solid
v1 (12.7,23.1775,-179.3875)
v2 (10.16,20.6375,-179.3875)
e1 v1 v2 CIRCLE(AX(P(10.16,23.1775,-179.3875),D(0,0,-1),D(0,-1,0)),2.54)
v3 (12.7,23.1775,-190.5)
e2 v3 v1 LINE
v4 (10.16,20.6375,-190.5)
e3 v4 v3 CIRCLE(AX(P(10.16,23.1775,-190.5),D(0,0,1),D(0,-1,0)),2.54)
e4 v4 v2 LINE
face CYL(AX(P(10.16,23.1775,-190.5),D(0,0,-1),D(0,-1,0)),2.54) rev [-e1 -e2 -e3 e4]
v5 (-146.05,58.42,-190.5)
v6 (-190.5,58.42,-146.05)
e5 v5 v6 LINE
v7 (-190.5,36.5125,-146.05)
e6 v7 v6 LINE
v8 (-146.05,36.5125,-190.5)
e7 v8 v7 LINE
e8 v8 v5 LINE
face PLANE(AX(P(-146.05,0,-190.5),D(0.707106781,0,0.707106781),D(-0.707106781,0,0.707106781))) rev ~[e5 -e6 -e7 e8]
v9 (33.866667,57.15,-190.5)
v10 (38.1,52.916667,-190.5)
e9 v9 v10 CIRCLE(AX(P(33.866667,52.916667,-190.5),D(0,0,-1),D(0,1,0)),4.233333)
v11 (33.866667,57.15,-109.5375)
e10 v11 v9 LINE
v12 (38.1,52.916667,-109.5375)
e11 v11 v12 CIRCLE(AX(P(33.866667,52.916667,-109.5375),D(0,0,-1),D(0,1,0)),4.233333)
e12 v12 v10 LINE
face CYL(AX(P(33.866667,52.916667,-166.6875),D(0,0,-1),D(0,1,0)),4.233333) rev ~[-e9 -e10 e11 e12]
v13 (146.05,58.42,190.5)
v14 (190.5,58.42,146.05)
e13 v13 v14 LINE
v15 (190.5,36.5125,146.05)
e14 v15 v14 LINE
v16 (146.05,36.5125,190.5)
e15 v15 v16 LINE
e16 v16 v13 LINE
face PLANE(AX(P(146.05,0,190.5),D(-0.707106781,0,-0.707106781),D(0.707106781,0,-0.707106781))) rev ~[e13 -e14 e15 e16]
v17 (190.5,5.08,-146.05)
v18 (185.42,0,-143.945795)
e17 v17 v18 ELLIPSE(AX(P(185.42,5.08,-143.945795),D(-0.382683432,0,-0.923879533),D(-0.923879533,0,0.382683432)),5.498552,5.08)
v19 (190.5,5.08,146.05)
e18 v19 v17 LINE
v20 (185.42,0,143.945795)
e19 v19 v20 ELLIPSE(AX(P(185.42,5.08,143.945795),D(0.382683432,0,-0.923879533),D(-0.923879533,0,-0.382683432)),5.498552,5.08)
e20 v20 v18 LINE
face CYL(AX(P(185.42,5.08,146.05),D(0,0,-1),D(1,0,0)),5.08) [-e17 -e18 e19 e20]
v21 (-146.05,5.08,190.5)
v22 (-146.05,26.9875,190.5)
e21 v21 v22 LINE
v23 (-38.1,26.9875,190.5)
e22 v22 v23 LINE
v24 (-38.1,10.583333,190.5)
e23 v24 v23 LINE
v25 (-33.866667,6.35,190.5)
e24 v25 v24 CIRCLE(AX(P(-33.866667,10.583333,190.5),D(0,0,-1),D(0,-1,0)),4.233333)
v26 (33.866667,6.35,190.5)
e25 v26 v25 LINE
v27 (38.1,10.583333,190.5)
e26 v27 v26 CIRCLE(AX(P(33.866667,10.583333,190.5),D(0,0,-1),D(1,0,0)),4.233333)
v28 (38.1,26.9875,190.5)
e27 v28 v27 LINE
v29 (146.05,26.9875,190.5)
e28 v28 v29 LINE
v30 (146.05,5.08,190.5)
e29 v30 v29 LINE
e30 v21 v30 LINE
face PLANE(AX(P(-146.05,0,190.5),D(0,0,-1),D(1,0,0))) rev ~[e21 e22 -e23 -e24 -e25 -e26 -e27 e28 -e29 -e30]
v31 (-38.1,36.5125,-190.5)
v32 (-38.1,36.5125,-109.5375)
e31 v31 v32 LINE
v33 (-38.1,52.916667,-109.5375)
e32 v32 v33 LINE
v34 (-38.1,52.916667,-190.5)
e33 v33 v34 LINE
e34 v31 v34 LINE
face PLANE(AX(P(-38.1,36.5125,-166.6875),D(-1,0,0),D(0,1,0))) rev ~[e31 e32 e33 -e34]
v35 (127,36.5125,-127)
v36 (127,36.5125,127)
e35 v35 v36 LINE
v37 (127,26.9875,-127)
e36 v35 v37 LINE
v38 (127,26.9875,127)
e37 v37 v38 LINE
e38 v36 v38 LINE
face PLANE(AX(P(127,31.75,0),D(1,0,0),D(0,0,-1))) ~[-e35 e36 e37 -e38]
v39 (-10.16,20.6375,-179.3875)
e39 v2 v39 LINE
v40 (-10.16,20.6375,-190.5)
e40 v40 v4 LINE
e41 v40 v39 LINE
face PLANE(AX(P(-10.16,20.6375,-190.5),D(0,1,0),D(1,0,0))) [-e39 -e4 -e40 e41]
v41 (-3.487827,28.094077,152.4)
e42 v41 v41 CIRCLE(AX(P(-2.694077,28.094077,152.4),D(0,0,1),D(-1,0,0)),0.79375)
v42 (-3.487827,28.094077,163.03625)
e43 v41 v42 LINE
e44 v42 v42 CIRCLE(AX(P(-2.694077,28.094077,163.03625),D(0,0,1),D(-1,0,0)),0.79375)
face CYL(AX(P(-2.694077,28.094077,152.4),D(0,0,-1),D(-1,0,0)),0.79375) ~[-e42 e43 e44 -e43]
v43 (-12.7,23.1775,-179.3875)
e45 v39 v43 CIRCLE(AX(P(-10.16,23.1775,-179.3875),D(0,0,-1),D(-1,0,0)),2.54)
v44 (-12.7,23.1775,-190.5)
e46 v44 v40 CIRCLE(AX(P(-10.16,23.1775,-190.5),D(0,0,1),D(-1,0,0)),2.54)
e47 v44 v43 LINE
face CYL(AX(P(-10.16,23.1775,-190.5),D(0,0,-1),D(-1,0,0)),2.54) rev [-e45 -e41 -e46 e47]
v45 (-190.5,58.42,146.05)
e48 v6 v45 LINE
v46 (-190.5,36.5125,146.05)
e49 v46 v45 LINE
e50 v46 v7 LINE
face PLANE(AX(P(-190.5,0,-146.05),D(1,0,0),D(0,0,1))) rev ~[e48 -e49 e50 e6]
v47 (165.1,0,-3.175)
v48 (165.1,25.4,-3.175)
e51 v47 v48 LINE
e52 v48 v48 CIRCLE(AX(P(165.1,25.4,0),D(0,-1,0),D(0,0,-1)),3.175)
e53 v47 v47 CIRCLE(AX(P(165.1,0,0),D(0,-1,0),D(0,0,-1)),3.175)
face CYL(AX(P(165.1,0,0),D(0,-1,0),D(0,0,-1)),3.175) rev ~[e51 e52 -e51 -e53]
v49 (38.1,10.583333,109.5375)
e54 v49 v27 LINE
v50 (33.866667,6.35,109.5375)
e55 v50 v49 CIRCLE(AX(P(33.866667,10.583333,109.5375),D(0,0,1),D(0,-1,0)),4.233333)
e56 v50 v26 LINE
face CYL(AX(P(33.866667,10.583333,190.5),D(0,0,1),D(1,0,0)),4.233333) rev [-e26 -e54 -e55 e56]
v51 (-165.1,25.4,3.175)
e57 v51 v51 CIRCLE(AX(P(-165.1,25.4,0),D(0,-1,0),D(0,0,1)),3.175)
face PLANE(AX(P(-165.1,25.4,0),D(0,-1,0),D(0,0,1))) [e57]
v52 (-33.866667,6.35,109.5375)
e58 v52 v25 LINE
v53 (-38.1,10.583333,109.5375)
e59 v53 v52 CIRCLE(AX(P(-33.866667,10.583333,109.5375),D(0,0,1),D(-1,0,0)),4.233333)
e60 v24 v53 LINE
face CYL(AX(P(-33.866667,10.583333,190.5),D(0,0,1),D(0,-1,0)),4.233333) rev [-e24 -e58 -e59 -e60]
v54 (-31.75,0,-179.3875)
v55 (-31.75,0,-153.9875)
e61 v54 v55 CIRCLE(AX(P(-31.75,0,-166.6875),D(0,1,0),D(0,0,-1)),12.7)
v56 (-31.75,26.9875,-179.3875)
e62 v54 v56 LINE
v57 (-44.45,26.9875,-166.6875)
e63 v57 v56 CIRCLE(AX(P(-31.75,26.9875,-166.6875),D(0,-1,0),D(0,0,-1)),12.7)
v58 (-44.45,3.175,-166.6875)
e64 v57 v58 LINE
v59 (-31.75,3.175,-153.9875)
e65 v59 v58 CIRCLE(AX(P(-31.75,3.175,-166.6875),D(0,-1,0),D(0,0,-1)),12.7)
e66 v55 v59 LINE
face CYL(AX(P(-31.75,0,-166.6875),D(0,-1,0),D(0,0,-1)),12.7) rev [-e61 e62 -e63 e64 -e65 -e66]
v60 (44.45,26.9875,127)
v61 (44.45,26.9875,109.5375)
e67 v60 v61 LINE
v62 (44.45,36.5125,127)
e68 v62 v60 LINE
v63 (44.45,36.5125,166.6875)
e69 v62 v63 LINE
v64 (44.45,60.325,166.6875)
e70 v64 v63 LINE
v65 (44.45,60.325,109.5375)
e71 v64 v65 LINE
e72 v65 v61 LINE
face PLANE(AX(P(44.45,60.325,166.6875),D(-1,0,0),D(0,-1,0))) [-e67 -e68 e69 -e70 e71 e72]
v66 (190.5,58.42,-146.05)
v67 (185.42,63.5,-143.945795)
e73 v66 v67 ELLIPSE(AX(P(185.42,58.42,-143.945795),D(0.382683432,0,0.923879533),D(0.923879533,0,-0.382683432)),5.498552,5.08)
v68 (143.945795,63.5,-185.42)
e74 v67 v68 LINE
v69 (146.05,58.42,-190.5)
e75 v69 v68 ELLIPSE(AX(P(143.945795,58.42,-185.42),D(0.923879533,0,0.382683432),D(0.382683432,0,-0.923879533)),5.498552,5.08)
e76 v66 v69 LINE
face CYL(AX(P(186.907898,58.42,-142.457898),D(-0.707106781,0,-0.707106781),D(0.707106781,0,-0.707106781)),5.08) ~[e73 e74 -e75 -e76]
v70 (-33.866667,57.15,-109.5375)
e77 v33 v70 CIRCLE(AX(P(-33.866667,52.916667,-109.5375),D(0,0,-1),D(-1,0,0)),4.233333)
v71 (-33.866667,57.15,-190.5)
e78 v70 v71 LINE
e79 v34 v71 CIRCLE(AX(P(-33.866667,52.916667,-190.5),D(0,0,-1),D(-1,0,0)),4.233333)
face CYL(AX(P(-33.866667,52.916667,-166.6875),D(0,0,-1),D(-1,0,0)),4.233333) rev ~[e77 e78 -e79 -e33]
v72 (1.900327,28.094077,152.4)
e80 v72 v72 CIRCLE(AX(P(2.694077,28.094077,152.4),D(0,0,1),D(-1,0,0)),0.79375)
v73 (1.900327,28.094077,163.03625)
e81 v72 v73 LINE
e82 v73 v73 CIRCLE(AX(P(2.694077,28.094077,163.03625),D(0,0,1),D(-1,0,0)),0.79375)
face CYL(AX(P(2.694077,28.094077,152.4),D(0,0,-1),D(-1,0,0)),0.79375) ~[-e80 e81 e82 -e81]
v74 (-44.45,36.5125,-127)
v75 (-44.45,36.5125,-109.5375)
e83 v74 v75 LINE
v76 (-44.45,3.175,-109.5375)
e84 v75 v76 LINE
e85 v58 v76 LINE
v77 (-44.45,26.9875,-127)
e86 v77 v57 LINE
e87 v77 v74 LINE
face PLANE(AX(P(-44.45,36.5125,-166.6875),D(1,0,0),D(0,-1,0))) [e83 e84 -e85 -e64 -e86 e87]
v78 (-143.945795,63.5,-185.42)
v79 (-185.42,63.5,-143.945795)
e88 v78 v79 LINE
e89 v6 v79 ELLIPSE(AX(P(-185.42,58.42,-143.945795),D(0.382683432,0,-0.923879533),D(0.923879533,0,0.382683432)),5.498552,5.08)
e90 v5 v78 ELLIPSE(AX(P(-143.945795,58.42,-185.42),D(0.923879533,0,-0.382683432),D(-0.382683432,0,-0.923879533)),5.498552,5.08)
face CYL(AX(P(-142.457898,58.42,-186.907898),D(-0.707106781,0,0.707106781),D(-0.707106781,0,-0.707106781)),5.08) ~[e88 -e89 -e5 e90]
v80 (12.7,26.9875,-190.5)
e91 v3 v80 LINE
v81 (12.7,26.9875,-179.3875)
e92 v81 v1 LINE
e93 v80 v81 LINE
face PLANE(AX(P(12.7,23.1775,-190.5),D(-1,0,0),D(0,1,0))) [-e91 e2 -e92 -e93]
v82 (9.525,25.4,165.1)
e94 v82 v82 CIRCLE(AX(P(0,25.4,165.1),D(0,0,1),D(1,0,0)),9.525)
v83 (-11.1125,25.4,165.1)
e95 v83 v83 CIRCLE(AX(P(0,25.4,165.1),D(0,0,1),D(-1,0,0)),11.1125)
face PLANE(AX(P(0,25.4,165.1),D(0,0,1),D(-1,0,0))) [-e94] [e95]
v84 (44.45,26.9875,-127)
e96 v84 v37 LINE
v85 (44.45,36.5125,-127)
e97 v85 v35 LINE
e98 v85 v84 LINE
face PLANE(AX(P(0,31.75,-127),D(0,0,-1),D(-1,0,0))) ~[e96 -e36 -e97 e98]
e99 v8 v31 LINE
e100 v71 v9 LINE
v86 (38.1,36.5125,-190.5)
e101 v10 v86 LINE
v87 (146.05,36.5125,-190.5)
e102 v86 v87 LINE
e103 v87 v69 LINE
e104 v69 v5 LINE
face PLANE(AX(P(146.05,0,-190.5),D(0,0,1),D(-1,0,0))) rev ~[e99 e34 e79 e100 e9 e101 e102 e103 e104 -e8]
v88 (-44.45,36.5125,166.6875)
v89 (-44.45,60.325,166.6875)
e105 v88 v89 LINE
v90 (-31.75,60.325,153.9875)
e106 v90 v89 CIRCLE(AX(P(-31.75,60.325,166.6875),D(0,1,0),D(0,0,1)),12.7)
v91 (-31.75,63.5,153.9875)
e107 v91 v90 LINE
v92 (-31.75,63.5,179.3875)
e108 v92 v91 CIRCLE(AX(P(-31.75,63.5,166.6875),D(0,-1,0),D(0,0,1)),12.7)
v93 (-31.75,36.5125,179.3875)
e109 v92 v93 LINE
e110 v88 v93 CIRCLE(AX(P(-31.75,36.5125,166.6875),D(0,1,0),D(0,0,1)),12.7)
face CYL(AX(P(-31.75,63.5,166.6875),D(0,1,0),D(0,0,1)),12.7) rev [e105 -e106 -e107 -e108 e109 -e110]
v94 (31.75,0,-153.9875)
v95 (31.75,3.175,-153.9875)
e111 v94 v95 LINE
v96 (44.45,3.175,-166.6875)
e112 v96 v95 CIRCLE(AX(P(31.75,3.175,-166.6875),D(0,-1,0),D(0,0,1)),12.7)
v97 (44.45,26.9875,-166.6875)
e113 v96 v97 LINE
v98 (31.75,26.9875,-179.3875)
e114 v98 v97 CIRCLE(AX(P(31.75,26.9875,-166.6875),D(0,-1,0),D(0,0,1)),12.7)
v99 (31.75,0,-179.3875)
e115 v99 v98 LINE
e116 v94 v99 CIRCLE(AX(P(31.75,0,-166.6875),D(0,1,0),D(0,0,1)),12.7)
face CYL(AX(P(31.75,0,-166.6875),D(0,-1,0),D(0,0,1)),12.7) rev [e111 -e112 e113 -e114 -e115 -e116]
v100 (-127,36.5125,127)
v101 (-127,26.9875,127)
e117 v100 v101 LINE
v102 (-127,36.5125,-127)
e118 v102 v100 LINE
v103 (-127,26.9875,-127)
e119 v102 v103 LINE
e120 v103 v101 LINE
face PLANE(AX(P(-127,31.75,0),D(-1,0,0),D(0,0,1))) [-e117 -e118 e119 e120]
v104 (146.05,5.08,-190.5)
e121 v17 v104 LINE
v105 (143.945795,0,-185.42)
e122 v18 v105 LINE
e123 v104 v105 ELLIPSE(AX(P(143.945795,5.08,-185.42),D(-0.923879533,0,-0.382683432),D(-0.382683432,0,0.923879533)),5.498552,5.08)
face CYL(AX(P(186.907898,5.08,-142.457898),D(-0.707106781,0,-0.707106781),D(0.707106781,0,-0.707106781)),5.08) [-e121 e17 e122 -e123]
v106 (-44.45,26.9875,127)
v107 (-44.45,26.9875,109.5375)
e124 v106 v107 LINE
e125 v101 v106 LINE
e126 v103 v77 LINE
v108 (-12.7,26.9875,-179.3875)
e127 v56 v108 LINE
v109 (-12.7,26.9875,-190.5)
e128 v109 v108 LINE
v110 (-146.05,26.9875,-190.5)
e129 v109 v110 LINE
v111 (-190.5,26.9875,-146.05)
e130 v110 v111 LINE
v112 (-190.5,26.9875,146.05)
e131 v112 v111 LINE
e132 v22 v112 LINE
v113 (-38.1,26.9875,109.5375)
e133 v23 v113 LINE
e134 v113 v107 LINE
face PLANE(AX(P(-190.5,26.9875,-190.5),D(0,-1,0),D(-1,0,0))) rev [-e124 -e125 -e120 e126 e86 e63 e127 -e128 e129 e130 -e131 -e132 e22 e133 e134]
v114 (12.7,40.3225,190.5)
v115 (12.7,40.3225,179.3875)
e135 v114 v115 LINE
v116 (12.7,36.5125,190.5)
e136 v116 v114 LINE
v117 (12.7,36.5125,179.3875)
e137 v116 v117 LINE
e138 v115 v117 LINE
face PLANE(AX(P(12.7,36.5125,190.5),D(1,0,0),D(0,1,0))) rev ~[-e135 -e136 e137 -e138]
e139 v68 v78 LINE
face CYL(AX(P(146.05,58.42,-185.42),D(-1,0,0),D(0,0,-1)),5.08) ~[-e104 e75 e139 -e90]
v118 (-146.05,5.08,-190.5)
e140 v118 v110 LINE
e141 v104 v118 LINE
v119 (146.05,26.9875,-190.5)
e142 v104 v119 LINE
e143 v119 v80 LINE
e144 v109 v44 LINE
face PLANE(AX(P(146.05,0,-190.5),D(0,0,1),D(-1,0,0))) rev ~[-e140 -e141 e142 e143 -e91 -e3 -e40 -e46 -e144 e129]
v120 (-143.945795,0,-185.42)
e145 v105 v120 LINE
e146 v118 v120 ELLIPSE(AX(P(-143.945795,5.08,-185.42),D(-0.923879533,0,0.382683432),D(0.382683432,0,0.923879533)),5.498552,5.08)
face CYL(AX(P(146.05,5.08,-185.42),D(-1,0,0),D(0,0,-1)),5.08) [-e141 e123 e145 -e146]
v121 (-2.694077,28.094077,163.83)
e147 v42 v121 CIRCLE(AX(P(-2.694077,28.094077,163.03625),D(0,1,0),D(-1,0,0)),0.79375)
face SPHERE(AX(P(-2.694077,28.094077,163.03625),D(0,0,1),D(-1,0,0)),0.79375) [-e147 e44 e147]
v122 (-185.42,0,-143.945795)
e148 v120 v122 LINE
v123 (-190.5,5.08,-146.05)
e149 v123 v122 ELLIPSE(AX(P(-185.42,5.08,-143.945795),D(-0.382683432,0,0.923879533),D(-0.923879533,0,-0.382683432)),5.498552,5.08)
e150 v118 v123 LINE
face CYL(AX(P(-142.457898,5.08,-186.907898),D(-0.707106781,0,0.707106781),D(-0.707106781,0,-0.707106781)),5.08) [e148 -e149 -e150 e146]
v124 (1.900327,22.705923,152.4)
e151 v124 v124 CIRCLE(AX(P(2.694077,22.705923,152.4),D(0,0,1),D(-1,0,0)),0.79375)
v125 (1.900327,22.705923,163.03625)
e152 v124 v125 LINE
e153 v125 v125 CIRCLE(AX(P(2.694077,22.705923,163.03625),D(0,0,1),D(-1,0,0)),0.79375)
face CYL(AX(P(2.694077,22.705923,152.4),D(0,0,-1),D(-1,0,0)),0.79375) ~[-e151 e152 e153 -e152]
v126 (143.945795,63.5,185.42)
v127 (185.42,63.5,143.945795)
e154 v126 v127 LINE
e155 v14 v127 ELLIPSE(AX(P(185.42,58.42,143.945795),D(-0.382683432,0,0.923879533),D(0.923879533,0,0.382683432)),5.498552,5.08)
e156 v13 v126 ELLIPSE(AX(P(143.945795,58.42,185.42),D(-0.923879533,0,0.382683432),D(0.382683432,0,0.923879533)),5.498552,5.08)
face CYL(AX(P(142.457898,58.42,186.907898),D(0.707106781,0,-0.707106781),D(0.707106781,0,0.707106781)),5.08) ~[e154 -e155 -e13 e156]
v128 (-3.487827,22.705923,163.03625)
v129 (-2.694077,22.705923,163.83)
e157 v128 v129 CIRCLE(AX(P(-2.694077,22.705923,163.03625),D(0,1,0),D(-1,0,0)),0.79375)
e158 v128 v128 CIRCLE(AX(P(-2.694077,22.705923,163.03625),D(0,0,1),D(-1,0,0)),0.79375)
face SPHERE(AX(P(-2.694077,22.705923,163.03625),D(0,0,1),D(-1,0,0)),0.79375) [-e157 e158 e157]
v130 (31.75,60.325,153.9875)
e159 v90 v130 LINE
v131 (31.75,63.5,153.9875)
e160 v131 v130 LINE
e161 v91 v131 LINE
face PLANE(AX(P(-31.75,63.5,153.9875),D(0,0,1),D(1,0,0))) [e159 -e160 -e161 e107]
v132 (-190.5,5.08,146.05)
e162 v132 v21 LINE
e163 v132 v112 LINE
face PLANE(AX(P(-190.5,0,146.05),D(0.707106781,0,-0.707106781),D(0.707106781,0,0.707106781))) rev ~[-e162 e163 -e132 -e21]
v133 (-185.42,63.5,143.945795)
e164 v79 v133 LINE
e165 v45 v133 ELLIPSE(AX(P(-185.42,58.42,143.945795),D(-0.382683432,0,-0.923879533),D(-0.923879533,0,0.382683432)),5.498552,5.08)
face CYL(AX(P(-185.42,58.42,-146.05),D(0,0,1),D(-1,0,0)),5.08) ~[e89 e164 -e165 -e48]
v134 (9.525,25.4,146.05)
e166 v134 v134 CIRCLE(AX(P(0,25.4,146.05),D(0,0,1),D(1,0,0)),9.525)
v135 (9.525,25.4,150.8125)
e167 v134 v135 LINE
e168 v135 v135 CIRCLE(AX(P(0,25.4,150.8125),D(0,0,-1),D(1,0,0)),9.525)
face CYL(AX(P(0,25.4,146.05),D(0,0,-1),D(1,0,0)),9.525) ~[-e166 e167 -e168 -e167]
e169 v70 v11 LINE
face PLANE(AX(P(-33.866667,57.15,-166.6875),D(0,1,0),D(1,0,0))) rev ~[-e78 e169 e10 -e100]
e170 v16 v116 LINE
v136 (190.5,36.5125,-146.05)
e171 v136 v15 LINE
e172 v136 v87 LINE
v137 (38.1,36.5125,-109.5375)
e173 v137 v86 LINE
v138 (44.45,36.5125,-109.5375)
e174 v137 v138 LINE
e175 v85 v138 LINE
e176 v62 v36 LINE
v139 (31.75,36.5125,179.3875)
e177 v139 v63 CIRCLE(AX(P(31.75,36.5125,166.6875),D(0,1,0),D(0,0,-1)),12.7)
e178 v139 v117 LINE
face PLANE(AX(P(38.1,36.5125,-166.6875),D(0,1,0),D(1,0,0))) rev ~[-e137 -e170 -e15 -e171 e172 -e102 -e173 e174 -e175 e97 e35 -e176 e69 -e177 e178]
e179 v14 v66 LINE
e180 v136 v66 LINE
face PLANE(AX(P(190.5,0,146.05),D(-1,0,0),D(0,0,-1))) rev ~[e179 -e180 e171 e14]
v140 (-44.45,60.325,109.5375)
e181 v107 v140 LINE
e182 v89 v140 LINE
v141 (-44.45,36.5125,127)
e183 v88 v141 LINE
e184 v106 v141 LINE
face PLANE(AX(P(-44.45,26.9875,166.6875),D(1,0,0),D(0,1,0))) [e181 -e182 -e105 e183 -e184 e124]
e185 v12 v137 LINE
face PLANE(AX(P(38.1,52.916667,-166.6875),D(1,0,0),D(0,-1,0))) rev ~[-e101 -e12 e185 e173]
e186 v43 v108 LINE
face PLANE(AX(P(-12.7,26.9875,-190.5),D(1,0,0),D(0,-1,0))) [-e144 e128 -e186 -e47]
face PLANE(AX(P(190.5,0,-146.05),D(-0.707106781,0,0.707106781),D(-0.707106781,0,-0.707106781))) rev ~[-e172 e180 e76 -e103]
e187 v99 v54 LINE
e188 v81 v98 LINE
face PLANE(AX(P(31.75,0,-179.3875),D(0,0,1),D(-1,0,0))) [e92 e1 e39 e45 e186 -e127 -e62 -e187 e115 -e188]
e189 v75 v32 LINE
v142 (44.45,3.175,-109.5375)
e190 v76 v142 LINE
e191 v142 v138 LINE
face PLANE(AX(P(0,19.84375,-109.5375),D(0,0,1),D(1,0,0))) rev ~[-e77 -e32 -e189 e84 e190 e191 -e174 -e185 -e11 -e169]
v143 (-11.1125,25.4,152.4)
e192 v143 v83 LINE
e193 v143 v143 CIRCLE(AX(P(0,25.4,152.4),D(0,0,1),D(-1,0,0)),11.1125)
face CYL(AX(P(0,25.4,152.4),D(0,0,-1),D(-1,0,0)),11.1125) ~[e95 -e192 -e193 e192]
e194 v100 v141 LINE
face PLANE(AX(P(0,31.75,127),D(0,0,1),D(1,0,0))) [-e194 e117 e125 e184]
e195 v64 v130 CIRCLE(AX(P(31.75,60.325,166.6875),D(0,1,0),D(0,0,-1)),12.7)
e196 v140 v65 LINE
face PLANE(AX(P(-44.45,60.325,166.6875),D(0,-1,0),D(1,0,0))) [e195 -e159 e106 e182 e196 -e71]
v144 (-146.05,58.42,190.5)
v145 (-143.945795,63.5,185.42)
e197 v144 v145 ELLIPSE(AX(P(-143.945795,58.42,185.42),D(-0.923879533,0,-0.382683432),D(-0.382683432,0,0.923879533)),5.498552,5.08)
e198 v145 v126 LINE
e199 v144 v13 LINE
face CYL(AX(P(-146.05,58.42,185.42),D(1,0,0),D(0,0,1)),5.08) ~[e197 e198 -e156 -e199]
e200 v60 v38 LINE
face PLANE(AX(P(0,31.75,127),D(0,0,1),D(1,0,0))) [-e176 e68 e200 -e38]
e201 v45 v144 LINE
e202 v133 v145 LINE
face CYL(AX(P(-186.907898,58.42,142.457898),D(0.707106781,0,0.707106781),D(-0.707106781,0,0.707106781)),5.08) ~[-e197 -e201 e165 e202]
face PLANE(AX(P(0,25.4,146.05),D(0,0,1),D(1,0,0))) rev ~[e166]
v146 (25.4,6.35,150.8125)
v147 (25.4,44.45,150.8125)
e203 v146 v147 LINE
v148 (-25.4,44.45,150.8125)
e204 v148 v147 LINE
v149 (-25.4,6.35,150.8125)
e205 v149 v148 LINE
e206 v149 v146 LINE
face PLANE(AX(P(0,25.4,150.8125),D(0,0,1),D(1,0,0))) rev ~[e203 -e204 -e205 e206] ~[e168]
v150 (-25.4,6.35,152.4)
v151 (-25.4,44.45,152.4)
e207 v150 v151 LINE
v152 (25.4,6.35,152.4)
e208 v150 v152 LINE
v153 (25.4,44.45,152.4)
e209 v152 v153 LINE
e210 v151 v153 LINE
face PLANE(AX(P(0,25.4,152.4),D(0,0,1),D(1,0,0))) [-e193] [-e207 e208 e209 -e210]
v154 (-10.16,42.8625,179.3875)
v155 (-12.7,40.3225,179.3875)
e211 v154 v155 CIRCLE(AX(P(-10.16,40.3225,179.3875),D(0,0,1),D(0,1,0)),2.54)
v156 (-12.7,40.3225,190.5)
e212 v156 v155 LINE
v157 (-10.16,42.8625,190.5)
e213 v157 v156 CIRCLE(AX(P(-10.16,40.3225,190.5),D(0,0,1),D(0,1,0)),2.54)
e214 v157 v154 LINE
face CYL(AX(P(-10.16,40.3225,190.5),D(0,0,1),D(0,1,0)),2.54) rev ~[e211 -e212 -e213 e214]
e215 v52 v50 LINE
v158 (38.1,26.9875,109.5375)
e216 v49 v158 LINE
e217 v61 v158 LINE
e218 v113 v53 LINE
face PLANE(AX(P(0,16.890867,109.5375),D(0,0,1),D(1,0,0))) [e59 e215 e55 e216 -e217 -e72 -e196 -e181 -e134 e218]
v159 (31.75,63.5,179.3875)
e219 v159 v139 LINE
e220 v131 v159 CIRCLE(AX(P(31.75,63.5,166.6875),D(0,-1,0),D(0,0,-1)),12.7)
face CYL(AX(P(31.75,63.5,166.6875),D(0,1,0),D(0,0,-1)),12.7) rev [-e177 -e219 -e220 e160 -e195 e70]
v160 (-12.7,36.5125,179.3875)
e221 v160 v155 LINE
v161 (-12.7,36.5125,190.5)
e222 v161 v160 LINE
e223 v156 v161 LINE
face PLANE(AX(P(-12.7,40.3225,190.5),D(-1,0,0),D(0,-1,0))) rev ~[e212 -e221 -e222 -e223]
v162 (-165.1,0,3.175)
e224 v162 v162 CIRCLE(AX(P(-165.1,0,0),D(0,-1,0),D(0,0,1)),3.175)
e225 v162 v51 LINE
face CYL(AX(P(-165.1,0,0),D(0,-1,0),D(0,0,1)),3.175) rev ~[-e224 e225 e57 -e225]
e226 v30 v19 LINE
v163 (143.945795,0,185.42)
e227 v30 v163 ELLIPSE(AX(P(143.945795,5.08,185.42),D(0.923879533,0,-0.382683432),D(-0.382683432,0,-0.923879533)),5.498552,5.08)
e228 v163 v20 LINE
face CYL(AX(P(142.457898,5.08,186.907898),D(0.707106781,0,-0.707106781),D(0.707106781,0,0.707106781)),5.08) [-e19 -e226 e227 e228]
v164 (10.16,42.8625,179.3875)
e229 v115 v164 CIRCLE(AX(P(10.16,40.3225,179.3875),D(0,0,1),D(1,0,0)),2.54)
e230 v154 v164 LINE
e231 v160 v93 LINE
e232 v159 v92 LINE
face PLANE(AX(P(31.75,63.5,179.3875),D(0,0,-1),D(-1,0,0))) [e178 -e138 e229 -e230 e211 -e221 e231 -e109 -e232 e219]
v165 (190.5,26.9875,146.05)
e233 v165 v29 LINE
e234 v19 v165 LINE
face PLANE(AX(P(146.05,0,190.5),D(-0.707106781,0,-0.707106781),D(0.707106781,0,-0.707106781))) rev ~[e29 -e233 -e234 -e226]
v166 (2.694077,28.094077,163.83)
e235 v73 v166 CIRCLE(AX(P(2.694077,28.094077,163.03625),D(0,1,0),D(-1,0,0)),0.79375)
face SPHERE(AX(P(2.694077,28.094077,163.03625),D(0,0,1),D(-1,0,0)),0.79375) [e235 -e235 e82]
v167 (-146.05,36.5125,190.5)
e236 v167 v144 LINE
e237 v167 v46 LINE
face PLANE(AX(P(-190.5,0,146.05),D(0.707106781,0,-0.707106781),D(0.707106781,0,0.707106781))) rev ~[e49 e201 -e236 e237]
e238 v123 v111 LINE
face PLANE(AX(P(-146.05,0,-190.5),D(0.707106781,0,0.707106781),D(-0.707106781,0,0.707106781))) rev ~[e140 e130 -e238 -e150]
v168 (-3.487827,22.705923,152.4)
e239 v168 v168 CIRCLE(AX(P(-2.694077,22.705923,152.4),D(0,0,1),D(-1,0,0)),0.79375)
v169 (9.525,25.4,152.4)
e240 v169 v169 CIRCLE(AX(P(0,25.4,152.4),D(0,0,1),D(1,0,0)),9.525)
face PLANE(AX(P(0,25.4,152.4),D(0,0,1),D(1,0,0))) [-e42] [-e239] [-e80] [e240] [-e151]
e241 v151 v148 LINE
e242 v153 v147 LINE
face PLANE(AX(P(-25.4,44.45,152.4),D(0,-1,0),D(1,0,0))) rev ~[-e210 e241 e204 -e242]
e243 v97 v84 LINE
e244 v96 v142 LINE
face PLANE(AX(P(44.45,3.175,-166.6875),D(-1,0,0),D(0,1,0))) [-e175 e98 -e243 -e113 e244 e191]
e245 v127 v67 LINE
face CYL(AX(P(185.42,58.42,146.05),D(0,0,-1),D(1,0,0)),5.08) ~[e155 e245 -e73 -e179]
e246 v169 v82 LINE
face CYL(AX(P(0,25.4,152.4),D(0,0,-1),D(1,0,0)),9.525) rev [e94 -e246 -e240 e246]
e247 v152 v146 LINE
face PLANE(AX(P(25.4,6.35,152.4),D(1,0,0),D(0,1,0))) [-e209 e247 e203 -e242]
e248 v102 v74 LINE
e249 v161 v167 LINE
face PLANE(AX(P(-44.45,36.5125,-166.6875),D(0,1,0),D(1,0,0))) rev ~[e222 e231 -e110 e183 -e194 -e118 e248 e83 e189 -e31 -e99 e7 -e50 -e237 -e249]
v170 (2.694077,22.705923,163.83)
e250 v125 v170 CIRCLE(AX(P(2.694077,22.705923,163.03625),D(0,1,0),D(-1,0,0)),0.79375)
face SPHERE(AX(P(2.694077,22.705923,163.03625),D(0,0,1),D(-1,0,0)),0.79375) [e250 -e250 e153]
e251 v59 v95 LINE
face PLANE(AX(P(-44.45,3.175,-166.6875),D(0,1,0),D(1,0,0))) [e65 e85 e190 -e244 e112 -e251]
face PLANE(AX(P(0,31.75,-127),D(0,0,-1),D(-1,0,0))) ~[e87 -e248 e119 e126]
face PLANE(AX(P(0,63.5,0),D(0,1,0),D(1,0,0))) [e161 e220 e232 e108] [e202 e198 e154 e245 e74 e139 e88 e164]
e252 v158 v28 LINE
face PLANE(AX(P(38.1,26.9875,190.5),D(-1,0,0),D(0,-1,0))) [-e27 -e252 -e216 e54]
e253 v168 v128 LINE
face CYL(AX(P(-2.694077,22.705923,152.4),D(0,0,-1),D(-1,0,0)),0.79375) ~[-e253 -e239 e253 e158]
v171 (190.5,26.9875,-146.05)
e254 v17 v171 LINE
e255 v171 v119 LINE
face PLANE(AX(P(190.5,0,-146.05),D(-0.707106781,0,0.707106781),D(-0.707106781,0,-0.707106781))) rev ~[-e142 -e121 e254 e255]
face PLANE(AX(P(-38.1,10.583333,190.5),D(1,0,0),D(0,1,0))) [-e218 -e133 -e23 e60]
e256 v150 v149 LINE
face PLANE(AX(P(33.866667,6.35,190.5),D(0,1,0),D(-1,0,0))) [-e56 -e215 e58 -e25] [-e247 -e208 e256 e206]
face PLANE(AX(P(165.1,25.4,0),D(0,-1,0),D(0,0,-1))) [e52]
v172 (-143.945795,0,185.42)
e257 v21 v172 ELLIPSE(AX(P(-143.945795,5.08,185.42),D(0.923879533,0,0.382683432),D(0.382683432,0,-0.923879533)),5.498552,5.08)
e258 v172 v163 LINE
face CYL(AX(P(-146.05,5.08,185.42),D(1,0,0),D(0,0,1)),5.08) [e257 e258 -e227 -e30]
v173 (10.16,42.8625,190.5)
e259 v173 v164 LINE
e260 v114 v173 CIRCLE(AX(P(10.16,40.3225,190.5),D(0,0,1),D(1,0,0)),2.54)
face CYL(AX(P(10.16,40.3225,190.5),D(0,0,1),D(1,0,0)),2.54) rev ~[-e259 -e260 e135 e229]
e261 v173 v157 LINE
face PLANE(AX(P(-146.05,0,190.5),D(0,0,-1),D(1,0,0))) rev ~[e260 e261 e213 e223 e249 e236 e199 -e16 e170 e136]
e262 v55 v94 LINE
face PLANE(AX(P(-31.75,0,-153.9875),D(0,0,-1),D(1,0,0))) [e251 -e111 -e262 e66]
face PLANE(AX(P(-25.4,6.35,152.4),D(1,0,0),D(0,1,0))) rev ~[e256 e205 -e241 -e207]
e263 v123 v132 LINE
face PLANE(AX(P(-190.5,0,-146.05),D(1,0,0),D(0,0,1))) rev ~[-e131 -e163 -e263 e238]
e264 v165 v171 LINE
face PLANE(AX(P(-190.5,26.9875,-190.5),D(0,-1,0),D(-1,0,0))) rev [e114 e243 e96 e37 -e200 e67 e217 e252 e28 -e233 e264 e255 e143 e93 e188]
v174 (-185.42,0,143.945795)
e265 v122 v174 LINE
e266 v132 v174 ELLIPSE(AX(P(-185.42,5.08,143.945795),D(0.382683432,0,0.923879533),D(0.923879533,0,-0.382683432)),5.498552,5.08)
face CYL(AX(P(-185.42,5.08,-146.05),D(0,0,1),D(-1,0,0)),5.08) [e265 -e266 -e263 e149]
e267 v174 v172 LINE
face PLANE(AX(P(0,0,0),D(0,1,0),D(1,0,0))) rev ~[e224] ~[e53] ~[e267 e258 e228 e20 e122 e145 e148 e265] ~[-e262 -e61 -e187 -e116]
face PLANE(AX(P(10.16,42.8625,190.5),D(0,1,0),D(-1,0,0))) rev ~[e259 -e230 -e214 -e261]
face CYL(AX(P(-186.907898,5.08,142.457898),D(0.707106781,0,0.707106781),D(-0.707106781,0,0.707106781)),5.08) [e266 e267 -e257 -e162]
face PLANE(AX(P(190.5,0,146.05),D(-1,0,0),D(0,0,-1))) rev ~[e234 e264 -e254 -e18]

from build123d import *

# Parameters (mm, degrees)
BOSS_EXTRUDE1_DEPTH = 63.5
SKETCH3_W           = 381
SKETCH3_H           = 9.525
CUT_EXTRUDE1_DEPTH  = 63.5
SKETCH4_W           = 381
SKETCH4_H           = 9.525
CUT_EXTRUDE2_DEPTH  = 63.5
CUT_EXTRUDE3_DEPTH  = 31.75
CUT_EXTRUDE4_DEPTH  = 76.2
CUT_EXTRUDE5_DEPTH  = 57.15
CUT_EXTRUDE6_DEPTH  = 31.75
CUT_EXTRUDE7_DEPTH  = 76.2
CUT_EXTRUDE8_DEPTH  = 57.15
FILLET1_R           = 5.08
SKETCH12_W          = 50.8
SKETCH12_H          = 38.1
BOSS_EXTRUDE2_DEPTH = 1.5875
SKETCH13_R          = 11.1125
SKETCH13_R_2        = 9.525
BOSS_EXTRUDE3_DEPTH = 12.7
BOSS_EXTRUDE4_START = -6.35
SKETCH15_R          = 9.525
BOSS_EXTRUDE4_DEPTH = 6.35
SKETCH16_R          = 0.79375
BOSS_EXTRUDE5_DEPTH = 11.43
FILLET2_R           = 0.79375
SKETCH17_R          = 3.175
CUT_EXTRUDE9_DEPTH  = 25.4


with BuildPart() as part:
    # Sketch1 → Boss-Extrude1 (new body)
    with BuildSketch(Plane(origin=(0, 0, 0), x_dir=(1, 0, 0), z_dir=(0, 1, 0))):
        Polygon((-146.05, 190.5), (-190.5, 146.05), (-190.5, -146.05), (-146.05, -190.5), (146.05, -190.5), (190.5, -146.05), (190.5, 146.05), (146.05, 190.5), align=None)
    extrude(amount=BOSS_EXTRUDE1_DEPTH)

    # Sketch3 → Cut-Extrude1 (cut)
    with BuildSketch(Plane.XY.offset(190.5)):
        with Locations((0, 31.75)):
            Rectangle(SKETCH3_W, SKETCH3_H)
    cut_extrude1 = extrude(amount=-CUT_EXTRUDE1_DEPTH, mode=Mode.SUBTRACT)

    # Mirror1: Cut-Extrude1 across plane
    add(cut_extrude1.mirror(Plane.XY), mode=Mode.SUBTRACT)

    # Sketch4 → Cut-Extrude2 (cut)
    with BuildSketch(Plane.ZY.offset(190.5)):
        with Locations((0, 31.75)):
            Rectangle(SKETCH4_W, SKETCH4_H)
    cut_extrude2 = extrude(amount=-CUT_EXTRUDE2_DEPTH, mode=Mode.SUBTRACT)

    # Mirror2: Cut-Extrude2 across plane
    add(cut_extrude2.mirror(Plane(origin=(0, 0, 0), x_dir=(0, 0, 1), z_dir=(1, 0, 0))), mode=Mode.SUBTRACT)

    # Sketch5 → Cut-Extrude3 (cut)
    with BuildSketch(Plane(origin=(0, 63.5, 0), x_dir=(1, 0, 0), z_dir=(0, 1, 0))):
        with BuildLine():
            Line((31.75, -179.3875), (-31.75, -179.3875))
            ThreePointArc((-31.75, -179.3875), (-44.45, -166.6875), (-31.75, -153.9875))
            Line((-31.75, -153.9875), (31.75, -153.9875))
            ThreePointArc((31.75, -153.9875), (44.45, -166.6875), (31.75, -179.3875))
        make_face()
    extrude(amount=-CUT_EXTRUDE3_DEPTH, mode=Mode.SUBTRACT)

    # Sketch6 → Cut-Extrude4 (cut)
    with BuildSketch(Plane.XY.offset(190.5)):
        with BuildLine():
            Line((-38.1, 26.9875), (38.1, 26.9875))
            Line((38.1, 26.9875), (38.1, 10.583333333))
            ThreePointArc((38.1, 10.583333333), (36.860085374, 7.589914626), (33.866666667, 6.35))
            Line((33.866666667, 6.35), (-33.866666667, 6.35))
            ThreePointArc((-33.866666667, 6.35), (-36.860085374, 7.589914626), (-38.1, 10.583333333))
            Line((-38.1, 10.583333333), (-38.1, 26.9875))
        make_face()
        with BuildLine():
            Line((-12.7, 36.5125), (12.7, 36.5125))
            Line((12.7, 36.5125), (12.7, 40.3225))
            ThreePointArc((12.7, 40.3225), (11.956051224, 42.118551224), (10.16, 42.8625))
            Line((10.16, 42.8625), (-10.16, 42.8625))
            ThreePointArc((-10.16, 42.8625), (-11.956051224, 42.118551224), (-12.7, 40.3225))
            Line((-12.7, 40.3225), (-12.7, 36.5125))
        make_face()
    extrude(amount=-CUT_EXTRUDE4_DEPTH, mode=Mode.SUBTRACT)

    # Sketch7 → Cut-Extrude5 (cut)
    with BuildSketch(Plane.XY.offset(166.6875)):
        with BuildLine():
            Line((-44.45, 26.9875), (-38.1, 26.9875))
            Line((-38.1, 26.9875), (-38.1, 10.583333333))
            ThreePointArc((-38.1, 10.583333333), (-36.860085374, 7.589914626), (-33.866666667, 6.35))
            Line((-33.866666667, 6.35), (33.866666667, 6.35))
            ThreePointArc((33.866666667, 6.35), (36.860085374, 7.589914626), (38.1, 10.583333333))
            Line((38.1, 10.583333333), (38.1, 26.9875))
            Line((38.1, 26.9875), (44.45, 26.9875))
            Line((44.45, 26.9875), (44.45, 60.325))
            Line((44.45, 60.325), (-44.45, 60.325))
            Line((-44.45, 60.325), (-44.45, 26.9875))
        make_face()
    extrude(amount=-CUT_EXTRUDE5_DEPTH, mode=Mode.SUBTRACT)

    # Sketch8 → Cut-Extrude6 (cut)
    with BuildSketch(Plane.XZ):
        with BuildLine():
            Line((31.75, -179.3875), (-31.75, -179.3875))
            ThreePointArc((-31.75, -179.3875), (-44.45, -166.6875), (-31.75, -153.9875))
            Line((-31.75, -153.9875), (31.75, -153.9875))
            ThreePointArc((31.75, -153.9875), (44.45, -166.6875), (31.75, -179.3875))
        make_face()
    extrude(amount=-CUT_EXTRUDE6_DEPTH, mode=Mode.SUBTRACT)

    # Sketch9 → Cut-Extrude7 (cut)
    with BuildSketch(Plane(origin=(0, 0, -190.5), x_dir=(-1, 0, 0), z_dir=(0, 0, -1))):
        with BuildLine():
            Line((33.866666667, 57.15), (-33.866666667, 57.15))
            ThreePointArc((-33.866666667, 57.15), (-36.860085374, 55.910085374), (-38.1, 52.916666667))
            Line((-38.1, 52.916666667), (-38.1, 36.5125))
            Line((-38.1, 36.5125), (38.1, 36.5125))
            Line((38.1, 36.5125), (38.1, 52.916666667))
            ThreePointArc((38.1, 52.916666667), (36.860085374, 55.910085374), (33.866666667, 57.15))
        make_face()
        with BuildLine():
            Line((10.16, 20.6375), (-10.16, 20.6375))
            ThreePointArc((-10.16, 20.6375), (-11.956051224, 21.381448776), (-12.7, 23.1775))
            Line((-12.7, 23.1775), (-12.7, 26.9875))
            Line((-12.7, 26.9875), (12.7, 26.9875))
            Line((12.7, 26.9875), (12.7, 23.1775))
            ThreePointArc((12.7, 23.1775), (11.956051224, 21.381448776), (10.16, 20.6375))
        make_face()
    extrude(amount=-CUT_EXTRUDE7_DEPTH, mode=Mode.SUBTRACT)

    # Sketch10 → Cut-Extrude8 (cut)
    with BuildSketch(Plane(origin=(0, 0, -166.6875), x_dir=(-1, 0, 0), z_dir=(0, 0, -1))):
        with BuildLine():
            Line((-44.45, 3.175), (44.45, 3.175))
            Line((44.45, 3.175), (44.45, 36.5125))
            Line((44.45, 36.5125), (38.1, 36.5125))
            Line((38.1, 36.5125), (38.1, 52.916666667))
            ThreePointArc((38.1, 52.916666667), (36.860085374, 55.910085374), (33.866666667, 57.15))
            Line((33.866666667, 57.15), (-33.866666667, 57.15))
            ThreePointArc((-33.866666667, 57.15), (-36.860085374, 55.910085374), (-38.1, 52.916666667))
            Line((-38.1, 52.916666667), (-38.1, 36.5125))
            Line((-38.1, 36.5125), (-44.45, 36.5125))
            Line((-44.45, 36.5125), (-44.45, 3.175))
        make_face()
    extrude(amount=-CUT_EXTRUDE8_DEPTH, mode=Mode.SUBTRACT)

    # Fillet1
    fillet1_edges = [part.edges().sort_by_distance(p)[0] for p in [
        (-168.275, 0, -168.275),
        (0, 0, -190.5),
        (168.275, 0, -168.275),
        (190.5, 0, 0),
        (168.275, 0, 168.275),
        (-190.5, 0, 0),
        (-168.275, 0, 168.275),
        (0, 0, 190.5),
        (168.275, 63.5, -168.275),
        (0, 63.5, -190.5),
        (-168.275, 63.5, -168.275),
        (190.5, 63.5, 0),
        (168.275, 63.5, 168.275),
        (0, 63.5, 190.5),
        (-168.275, 63.5, 168.275),
        (-190.5, 63.5, 0),
    ]]
    fillet(fillet1_edges, radius=FILLET1_R)

    # Sketch12 → Boss-Extrude2 (add)
    with BuildSketch(Plane.XY.offset(152.4)):
        with Locations((0, 25.4)):
            Rectangle(SKETCH12_W, SKETCH12_H)
    extrude(amount=-BOSS_EXTRUDE2_DEPTH)

    # Sketch13 → Boss-Extrude3 (add)
    with BuildSketch(Plane.XY.offset(152.4)):
        with Locations((0, 25.4)):
            Circle(SKETCH13_R)
        with Locations((0, 25.4)):
            Circle(SKETCH13_R_2, mode=Mode.SUBTRACT)
    extrude(amount=BOSS_EXTRUDE3_DEPTH)

    # Sketch15 → Boss-Extrude4 (add)
    with BuildSketch(Plane.XY.offset(152.4).offset(BOSS_EXTRUDE4_START)):
        with Locations((0, 25.4)):
            Circle(SKETCH15_R)
    extrude(amount=BOSS_EXTRUDE4_DEPTH)

    # Sketch16 → Boss-Extrude5 (add)
    with BuildSketch(Plane.XY.offset(152.4)):
        with Locations((2.694076836, 28.094076836)):
            Circle(SKETCH16_R)
        with Locations((-2.694076836, 28.094076836)):
            Circle(SKETCH16_R)
        with Locations((-2.694076836, 22.705923164)):
            Circle(SKETCH16_R)
        with Locations((2.694076836, 22.705923164)):
            Circle(SKETCH16_R)
    extrude(amount=BOSS_EXTRUDE5_DEPTH)

    # Fillet2
    fillet2_edges = [part.edges().sort_by_distance(p)[0] for p in [
        (-3.487826836, 22.705923164, 163.83),
        (1.900326836, 22.705923164, 163.83),
        (1.900326836, 28.094076836, 163.83),
        (-3.487826836, 28.094076836, 163.83),
    ]]
    fillet(fillet2_edges, radius=FILLET2_R)

    # Sketch17 → Cut-Extrude9 (cut)
    with BuildSketch(Plane.XZ):
        with Locations((165.1, 0)):
            Circle(SKETCH17_R)
        with Locations((-165.1, 0)):
            Circle(SKETCH17_R)
    extrude(amount=-CUT_EXTRUDE9_DEPTH, mode=Mode.SUBTRACT)


solid = part.part
